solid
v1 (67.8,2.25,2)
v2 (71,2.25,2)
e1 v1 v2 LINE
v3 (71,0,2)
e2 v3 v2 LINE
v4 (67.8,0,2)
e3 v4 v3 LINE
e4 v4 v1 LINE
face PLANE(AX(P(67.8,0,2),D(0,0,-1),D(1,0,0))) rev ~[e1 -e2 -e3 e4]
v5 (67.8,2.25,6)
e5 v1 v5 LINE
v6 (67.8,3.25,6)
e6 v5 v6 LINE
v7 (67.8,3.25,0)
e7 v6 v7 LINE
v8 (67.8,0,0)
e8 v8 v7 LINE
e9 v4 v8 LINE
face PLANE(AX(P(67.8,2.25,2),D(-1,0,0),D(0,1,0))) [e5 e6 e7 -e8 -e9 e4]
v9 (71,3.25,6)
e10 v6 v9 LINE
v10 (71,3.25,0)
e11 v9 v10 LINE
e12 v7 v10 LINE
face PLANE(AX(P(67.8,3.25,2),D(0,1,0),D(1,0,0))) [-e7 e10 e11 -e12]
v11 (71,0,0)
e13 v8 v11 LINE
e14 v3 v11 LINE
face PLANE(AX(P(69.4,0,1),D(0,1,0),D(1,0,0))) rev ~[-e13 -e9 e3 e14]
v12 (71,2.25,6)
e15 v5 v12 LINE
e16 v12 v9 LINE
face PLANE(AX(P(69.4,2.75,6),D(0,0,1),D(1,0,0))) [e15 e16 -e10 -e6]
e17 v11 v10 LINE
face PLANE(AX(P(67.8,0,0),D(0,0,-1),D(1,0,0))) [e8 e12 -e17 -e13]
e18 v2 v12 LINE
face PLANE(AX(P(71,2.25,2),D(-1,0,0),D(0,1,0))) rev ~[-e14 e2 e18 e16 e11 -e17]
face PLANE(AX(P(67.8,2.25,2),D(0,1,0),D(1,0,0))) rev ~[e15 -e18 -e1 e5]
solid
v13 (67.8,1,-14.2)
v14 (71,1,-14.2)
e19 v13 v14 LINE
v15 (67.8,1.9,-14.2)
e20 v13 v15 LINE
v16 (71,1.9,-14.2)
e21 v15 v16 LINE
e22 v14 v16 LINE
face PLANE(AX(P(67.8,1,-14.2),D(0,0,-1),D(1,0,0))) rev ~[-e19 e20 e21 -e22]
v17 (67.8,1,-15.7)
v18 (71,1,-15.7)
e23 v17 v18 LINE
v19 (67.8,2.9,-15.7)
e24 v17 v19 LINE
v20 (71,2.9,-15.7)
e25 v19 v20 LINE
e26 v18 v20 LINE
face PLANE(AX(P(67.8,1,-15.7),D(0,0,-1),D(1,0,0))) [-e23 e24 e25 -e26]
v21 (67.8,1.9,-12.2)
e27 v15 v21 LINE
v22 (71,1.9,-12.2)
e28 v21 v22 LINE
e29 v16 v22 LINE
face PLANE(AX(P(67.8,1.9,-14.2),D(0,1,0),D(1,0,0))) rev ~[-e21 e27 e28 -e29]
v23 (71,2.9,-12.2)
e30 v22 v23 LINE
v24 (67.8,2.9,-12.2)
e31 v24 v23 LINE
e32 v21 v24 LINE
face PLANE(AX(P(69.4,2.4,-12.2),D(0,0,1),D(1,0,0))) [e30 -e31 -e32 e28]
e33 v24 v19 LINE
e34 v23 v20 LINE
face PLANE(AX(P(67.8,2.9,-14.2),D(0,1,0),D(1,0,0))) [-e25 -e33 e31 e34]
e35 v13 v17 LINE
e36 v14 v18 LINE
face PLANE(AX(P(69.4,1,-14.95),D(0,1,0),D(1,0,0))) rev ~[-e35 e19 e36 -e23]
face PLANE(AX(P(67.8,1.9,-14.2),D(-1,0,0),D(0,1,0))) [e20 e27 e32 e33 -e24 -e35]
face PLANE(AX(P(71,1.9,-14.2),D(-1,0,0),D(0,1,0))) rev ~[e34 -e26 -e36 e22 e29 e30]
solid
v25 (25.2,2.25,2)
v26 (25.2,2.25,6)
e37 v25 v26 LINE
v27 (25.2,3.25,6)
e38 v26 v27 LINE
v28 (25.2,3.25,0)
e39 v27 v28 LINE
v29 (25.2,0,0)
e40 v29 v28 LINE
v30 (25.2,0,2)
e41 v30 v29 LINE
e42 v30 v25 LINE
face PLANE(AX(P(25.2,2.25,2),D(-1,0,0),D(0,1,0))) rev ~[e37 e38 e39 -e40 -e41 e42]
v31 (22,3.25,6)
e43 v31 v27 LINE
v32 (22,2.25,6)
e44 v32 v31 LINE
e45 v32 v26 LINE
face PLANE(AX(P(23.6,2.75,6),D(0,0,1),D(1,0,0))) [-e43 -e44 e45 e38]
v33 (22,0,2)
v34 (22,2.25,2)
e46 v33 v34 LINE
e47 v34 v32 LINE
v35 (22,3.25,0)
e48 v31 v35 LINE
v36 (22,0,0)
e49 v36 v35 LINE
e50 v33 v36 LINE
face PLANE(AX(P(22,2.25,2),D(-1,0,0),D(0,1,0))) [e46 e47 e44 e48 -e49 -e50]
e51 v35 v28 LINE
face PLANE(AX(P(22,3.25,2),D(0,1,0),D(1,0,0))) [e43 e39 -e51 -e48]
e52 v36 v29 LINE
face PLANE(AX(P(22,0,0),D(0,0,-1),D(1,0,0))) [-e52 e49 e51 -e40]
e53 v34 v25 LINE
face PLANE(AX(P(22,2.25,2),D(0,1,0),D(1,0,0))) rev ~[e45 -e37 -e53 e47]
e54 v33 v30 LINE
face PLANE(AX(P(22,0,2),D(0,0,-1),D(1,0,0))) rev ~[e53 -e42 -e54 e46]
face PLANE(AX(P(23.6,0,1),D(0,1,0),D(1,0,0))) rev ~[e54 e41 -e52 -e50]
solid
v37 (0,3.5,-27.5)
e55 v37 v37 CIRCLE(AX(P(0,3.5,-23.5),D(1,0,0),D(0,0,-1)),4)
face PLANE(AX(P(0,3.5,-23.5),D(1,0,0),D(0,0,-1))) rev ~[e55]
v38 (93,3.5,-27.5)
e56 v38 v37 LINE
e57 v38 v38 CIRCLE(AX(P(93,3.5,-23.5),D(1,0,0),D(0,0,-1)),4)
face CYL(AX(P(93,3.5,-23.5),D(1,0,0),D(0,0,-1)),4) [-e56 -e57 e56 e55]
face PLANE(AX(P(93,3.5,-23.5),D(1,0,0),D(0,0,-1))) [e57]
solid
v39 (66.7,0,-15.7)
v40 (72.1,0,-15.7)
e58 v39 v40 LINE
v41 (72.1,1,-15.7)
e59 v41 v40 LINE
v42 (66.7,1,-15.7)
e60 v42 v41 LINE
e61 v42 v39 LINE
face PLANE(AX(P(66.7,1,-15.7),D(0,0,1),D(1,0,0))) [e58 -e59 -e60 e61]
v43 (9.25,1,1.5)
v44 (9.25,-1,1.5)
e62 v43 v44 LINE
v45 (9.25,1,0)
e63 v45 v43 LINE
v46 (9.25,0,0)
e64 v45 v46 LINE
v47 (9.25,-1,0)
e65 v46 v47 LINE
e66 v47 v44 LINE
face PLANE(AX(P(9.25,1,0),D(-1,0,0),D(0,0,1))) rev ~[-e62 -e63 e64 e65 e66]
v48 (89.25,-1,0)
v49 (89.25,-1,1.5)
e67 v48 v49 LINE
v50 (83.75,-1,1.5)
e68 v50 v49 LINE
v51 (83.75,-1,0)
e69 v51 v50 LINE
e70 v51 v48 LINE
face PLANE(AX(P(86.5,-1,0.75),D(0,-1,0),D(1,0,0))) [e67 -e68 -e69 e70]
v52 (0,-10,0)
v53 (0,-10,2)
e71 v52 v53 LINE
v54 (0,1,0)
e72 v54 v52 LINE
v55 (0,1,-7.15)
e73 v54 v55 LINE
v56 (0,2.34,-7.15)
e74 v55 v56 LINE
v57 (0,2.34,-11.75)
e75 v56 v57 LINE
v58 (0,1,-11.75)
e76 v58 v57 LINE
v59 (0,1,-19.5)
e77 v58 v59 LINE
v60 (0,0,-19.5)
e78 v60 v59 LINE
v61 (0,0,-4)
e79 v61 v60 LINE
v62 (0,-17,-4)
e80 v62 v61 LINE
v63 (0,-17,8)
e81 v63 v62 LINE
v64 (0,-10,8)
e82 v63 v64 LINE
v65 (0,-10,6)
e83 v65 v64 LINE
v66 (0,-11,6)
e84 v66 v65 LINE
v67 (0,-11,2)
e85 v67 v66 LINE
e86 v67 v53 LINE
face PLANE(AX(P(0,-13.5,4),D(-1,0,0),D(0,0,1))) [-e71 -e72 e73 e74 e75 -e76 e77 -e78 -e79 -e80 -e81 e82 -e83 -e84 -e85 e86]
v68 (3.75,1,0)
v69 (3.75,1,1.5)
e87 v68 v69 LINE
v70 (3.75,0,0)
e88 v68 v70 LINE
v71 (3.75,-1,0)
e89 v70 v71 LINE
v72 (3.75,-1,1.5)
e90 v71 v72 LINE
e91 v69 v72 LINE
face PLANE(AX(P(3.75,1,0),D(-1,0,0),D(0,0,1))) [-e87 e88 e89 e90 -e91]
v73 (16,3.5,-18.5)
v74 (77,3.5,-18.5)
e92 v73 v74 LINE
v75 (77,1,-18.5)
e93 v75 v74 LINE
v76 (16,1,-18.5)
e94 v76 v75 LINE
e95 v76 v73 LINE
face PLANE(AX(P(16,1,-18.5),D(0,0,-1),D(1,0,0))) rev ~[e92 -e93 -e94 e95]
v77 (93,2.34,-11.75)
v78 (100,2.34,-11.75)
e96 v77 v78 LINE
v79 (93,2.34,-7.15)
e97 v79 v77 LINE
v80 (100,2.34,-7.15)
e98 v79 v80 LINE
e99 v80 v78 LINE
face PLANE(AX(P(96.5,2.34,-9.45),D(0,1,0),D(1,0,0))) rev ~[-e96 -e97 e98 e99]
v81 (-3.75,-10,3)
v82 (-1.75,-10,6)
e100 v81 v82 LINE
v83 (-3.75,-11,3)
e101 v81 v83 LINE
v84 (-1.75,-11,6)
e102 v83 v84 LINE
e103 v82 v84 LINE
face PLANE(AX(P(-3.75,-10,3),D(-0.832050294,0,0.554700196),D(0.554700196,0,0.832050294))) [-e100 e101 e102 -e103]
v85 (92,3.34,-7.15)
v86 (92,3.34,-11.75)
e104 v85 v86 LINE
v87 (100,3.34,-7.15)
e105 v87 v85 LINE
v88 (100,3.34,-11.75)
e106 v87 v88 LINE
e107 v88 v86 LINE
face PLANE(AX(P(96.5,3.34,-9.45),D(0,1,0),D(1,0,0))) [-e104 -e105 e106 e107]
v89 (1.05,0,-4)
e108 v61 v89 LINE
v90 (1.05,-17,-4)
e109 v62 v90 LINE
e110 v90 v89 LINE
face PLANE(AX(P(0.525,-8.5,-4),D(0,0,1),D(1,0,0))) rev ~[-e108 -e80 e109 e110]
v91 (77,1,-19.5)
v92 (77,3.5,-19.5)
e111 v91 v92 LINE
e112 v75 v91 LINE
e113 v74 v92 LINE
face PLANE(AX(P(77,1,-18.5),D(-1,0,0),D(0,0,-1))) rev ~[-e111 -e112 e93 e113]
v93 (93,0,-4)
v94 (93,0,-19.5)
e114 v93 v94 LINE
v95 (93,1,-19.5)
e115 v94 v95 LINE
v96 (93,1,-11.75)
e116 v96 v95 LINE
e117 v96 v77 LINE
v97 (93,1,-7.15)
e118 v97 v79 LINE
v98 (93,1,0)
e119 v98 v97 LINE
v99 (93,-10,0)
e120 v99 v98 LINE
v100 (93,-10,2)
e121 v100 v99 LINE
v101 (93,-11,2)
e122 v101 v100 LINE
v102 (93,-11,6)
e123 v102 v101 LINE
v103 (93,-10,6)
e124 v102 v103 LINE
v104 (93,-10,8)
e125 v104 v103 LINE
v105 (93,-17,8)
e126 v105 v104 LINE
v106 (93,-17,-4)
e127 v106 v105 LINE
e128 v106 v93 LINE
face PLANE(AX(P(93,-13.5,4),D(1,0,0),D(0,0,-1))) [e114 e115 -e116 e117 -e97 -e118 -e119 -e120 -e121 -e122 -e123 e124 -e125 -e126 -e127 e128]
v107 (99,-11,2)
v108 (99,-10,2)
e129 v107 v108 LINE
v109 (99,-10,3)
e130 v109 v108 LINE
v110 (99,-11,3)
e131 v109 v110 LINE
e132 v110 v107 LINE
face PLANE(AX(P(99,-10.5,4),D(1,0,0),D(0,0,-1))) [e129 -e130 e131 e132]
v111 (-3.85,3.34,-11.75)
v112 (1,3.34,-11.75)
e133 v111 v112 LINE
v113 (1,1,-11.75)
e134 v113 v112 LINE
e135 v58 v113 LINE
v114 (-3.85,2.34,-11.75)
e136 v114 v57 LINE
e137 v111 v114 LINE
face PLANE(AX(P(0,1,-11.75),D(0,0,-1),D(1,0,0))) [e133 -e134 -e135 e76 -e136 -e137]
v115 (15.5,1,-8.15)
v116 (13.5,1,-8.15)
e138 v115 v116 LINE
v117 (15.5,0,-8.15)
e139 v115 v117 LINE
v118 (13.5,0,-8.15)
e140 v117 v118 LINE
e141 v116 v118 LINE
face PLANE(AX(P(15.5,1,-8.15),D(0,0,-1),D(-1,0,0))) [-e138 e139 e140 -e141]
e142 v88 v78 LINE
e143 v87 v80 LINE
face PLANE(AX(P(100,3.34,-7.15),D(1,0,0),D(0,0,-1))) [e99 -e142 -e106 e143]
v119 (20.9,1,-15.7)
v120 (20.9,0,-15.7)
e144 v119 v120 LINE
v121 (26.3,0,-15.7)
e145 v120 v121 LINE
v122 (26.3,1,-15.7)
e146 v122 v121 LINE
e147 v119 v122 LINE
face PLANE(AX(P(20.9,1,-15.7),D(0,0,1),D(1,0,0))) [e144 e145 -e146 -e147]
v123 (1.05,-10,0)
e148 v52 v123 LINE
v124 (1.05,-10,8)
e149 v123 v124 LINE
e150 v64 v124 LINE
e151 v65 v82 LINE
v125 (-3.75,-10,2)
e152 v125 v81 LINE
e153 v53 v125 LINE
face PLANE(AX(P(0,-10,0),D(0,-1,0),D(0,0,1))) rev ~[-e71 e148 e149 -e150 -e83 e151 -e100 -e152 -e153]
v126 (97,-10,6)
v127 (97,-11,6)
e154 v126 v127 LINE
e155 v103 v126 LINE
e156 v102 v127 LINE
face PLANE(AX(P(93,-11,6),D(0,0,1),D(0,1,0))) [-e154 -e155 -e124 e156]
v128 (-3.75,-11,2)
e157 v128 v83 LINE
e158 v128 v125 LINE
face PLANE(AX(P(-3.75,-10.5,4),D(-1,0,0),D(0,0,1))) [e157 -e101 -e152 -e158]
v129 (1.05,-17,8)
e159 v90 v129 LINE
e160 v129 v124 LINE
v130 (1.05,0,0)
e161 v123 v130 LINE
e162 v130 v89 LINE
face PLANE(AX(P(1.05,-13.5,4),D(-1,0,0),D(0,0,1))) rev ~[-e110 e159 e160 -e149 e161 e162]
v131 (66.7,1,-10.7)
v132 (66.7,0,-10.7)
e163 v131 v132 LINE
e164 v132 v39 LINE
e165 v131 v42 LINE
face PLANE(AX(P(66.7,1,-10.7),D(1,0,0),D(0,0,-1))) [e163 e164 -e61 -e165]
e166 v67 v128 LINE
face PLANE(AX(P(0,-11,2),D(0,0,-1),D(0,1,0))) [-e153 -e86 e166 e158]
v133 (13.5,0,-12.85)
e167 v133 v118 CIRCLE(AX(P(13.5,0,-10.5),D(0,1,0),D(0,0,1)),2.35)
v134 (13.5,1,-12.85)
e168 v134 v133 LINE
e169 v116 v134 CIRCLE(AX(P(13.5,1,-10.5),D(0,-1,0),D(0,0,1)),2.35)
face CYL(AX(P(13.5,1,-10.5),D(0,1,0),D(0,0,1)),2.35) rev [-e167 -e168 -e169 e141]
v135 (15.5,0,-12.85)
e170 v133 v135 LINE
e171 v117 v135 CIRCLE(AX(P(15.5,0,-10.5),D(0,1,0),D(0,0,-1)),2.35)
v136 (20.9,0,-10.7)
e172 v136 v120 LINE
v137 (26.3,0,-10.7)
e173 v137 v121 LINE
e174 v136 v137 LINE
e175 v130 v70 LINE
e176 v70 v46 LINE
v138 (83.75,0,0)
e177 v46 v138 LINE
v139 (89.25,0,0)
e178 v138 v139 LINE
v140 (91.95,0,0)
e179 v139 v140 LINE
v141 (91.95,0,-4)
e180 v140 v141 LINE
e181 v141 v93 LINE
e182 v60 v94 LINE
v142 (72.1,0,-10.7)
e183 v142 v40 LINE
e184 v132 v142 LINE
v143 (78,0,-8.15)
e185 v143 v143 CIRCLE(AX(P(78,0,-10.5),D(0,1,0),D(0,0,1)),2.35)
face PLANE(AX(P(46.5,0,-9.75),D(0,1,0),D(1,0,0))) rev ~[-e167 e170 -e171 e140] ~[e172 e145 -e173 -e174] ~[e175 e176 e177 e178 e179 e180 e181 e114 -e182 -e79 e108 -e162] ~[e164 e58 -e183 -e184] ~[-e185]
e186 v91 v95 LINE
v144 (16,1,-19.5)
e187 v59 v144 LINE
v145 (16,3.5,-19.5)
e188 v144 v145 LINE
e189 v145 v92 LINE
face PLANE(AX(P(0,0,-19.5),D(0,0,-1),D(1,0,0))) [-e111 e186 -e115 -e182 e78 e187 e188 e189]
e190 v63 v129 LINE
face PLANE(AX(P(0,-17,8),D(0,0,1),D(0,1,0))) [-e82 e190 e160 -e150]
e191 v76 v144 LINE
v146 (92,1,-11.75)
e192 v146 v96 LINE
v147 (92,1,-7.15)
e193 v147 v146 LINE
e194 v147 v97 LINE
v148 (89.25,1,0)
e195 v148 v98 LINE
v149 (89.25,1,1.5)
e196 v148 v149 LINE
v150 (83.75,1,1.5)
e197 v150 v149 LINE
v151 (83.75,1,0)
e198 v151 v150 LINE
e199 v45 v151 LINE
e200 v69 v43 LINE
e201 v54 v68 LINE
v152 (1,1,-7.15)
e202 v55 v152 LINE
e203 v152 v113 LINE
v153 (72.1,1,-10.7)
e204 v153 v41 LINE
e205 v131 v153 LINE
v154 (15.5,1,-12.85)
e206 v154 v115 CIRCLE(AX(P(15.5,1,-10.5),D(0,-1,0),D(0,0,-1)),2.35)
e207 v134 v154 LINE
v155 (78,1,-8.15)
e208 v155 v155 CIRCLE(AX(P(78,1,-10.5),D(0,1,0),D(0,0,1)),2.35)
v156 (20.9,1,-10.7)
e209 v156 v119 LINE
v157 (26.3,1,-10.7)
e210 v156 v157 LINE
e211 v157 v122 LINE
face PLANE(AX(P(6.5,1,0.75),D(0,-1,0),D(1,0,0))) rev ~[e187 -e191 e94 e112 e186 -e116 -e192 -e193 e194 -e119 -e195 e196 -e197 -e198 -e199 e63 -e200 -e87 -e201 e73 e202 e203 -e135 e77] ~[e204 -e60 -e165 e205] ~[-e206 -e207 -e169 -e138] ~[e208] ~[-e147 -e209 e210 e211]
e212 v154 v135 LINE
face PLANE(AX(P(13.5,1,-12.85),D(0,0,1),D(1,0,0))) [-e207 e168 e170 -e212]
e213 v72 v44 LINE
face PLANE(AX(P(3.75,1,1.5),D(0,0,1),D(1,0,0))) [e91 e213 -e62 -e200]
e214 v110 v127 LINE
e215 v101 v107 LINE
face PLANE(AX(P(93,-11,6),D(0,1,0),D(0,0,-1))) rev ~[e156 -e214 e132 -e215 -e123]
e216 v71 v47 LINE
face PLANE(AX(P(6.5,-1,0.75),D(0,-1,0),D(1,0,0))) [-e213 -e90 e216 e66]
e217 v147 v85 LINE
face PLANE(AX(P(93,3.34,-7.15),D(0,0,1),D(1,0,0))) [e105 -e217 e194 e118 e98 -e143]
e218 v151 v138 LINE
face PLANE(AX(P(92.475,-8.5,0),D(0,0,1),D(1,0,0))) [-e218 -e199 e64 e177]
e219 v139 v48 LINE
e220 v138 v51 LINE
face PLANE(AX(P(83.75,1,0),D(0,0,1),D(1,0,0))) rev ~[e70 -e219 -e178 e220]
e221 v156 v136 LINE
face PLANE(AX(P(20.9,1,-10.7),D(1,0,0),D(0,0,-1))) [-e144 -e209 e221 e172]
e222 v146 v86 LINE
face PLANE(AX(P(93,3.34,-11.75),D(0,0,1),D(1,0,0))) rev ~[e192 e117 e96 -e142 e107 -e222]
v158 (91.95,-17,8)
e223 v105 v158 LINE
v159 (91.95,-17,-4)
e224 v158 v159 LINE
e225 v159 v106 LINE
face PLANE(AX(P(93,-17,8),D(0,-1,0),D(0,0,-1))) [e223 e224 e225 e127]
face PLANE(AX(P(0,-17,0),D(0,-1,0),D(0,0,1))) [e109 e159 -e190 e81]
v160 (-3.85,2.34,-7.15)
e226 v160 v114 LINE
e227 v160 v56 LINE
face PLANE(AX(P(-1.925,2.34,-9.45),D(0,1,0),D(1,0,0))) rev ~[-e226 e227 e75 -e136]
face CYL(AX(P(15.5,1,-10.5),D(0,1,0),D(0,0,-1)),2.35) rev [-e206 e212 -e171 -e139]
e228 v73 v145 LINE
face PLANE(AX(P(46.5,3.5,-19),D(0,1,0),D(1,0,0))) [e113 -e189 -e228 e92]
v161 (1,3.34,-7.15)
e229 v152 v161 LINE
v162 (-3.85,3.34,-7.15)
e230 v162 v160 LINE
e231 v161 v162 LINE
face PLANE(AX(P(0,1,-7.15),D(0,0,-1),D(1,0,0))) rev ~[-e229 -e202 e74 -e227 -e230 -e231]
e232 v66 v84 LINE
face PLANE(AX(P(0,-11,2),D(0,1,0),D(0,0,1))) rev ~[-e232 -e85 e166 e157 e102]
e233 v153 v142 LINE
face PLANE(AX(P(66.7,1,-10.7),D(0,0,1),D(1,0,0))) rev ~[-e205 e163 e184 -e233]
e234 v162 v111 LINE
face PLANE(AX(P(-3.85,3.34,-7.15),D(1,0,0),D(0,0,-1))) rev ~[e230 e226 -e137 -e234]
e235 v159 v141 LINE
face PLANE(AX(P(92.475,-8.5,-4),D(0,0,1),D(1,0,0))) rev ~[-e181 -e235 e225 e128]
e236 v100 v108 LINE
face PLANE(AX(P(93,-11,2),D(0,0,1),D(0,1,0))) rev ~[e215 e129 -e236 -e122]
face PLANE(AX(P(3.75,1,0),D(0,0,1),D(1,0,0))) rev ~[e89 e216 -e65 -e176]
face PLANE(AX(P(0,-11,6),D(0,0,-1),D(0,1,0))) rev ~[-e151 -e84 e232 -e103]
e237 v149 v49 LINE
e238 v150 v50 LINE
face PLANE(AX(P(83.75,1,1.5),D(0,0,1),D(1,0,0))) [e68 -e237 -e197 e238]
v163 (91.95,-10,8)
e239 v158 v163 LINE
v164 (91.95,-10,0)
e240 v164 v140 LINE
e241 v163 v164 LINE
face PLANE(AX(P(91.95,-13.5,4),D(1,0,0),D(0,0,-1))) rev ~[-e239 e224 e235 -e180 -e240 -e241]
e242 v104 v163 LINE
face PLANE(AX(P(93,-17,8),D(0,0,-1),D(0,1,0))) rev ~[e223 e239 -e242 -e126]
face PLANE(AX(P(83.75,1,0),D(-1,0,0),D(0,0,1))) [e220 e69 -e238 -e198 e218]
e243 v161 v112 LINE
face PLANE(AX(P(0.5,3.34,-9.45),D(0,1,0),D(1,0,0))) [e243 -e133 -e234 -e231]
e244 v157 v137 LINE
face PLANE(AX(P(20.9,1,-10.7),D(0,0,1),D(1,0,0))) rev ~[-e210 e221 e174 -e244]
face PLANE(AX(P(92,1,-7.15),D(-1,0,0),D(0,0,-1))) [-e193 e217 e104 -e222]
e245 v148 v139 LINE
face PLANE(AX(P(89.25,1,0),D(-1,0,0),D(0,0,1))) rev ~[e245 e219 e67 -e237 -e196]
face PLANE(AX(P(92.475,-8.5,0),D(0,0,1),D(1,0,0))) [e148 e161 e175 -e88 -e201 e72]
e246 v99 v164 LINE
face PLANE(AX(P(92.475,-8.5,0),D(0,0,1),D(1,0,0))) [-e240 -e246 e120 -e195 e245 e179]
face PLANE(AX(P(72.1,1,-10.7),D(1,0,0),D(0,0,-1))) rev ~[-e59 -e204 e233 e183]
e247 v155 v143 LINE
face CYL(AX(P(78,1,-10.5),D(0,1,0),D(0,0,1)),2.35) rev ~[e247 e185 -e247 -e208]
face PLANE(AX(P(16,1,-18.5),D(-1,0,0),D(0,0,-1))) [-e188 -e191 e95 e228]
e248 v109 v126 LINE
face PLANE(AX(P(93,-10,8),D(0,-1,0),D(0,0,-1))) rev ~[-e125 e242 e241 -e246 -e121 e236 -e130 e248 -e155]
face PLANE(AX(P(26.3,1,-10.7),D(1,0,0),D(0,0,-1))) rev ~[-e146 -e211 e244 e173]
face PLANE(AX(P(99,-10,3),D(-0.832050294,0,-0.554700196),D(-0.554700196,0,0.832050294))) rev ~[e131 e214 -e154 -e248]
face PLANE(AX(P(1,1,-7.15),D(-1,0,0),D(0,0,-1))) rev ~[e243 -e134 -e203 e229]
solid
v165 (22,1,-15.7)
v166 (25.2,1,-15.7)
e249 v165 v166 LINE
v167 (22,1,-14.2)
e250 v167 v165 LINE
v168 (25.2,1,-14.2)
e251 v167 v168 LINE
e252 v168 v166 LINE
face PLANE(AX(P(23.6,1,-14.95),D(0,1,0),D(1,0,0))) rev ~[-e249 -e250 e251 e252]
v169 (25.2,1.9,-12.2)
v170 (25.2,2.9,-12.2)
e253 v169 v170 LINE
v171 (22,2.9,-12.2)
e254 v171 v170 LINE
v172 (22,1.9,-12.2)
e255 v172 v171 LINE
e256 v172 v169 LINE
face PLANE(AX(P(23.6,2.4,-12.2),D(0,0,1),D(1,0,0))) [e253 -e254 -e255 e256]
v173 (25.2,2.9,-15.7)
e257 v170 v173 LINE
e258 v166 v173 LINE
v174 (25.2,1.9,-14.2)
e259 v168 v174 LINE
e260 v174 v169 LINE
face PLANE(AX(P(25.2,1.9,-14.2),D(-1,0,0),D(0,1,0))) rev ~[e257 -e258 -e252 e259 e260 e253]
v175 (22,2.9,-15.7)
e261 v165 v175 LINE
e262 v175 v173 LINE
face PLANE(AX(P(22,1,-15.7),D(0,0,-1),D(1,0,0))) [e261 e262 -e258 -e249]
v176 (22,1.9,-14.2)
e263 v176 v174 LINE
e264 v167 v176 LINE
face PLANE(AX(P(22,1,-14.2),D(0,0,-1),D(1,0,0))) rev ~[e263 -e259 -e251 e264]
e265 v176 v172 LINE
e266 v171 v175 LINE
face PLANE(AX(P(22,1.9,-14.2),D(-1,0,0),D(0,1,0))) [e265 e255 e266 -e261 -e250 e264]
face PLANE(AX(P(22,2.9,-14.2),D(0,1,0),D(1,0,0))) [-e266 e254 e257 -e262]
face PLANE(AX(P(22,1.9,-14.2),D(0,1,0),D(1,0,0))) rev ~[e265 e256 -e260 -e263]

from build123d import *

# Parameters (mm, degrees)
SKETCH_1_W             = 93
SKETCH_1_H             = 19.5
EXTRUDE_1_DEPTH        = 1
SKETCH_2_W             = 61
SKETCH_2_H             = 1
EXTRUDE_2_DEPTH        = 2.5
EXTRUDE_3_DEPTH        = 2.25
EXTRUDE_3_DEPTH_BACK   = 1
SKETCH_3_W             = 3.2
SKETCH_3_H             = 2
EXTRUDE_3_2_DEPTH      = 2.25
EXTRUDE_3_2_DEPTH_BACK = 1
SKETCH_4_W             = 3.2
SKETCH_4_H             = 1
EXTRUDE_4_DEPTH        = 4
SKETCH_5_W             = 5.4
SKETCH_5_H             = 5
CUT_EXTRUDE_1_DEPTH    = 5
SKETCH_6_W             = 3.2
SKETCH_6_H             = 1.5
EXTRUDE_5_DEPTH        = 1.9
EXTRUDE_5_2_DEPTH      = 1.9
SKETCH_7_W             = 3.2
SKETCH_7_H             = 1
EXTRUDE_6_DEPTH        = 2
SKETCH_8_R             = 2.35
CUT_EXTRUDE_2_DEPTH    = 96.055247093
SKETCH_9_R             = 4
EXTRUDE_7_DEPTH        = 93
SKETCH_10_W            = 1
SKETCH_10_H            = 4.6
EXTRUDE_8_DEPTH        = 2.34
SKETCH_11_W            = 7
SKETCH_11_H            = 4.6
SKETCH_11_W_2          = 3.85
EXTRUDE_9_DEPTH        = 1
SKETCH_12_W            = 1.05
SKETCH_12_H            = 17
EXTRUDE_10_DEPTH       = 4
EXTRUDE_11_DEPTH       = 1
EXTRUDE_11_DEPTH_BACK  = 1
SKETCH_13_W            = 5.5
SKETCH_13_H            = 1.5
SKETCH_14_W            = 8
SKETCH_14_H            = 7
EXTRUDE_12_DEPTH       = 1.05
SKETCH_15_W            = 4
SKETCH_15_H            = 1
EXTRUDE_13_DEPTH       = 6
CUT_EXTRUDE_3_DEPTH    = 6
SKETCH_17_W            = 8
SKETCH_17_H            = 7
EXTRUDE_14_DEPTH       = 1.05
SKETCH_18_W            = 4
SKETCH_18_H            = 1
EXTRUDE_15_DEPTH       = 3.75
CUT_EXTRUDE_4_DEPTH    = 3.75


with BuildPart() as part:
    # 草图1 → 凸台-拉伸1 (new body)
    with BuildSketch(Plane(origin=(0, 0, 0), x_dir=(1, 0, 0), z_dir=(0, 1, 0))):
        with Locations((46.5, 9.75)):
            Rectangle(SKETCH_1_W, SKETCH_1_H)
    extrude(amount=EXTRUDE_1_DEPTH)

    # 草图2 → 凸台-拉伸2 (add)
    with BuildSketch(Plane(origin=(0, 1, 0), x_dir=(1, 0, 0), z_dir=(0, 1, 0))):
        with Locations((46.5, 19)):
            Rectangle(SKETCH_2_W, SKETCH_2_H)
    extrude(amount=EXTRUDE_2_DEPTH)

    # 草图5 → 切除-拉伸1 (cut)
    with BuildSketch(Plane(origin=(0, 1, 0), x_dir=(1, 0, 0), z_dir=(0, 1, 0))):
        with Locations((23.6, 13.2)):
            Rectangle(SKETCH_5_W, SKETCH_5_H)
        with Locations((69.4, 13.2)):
            Rectangle(SKETCH_5_W, SKETCH_5_H)
    extrude(amount=-CUT_EXTRUDE_1_DEPTH, mode=Mode.SUBTRACT)

    # 草图8 → 切除-拉伸2 (cut, through all)
    with BuildSketch(Plane(origin=(0, 1, 0), x_dir=(1, 0, 0), z_dir=(0, 1, 0))):
        with Locations(Location((78, 10.5, 0), (0, 0, 270))):
            Circle(SKETCH_8_R)
        with BuildLine():
            Line((13.5, 12.85), (15.5, 12.85))
            ThreePointArc((15.5, 12.85), (17.85, 10.5), (15.5, 8.15))
            Line((15.5, 8.15), (13.5, 8.15))
            ThreePointArc((13.5, 8.15), (11.15, 10.5), (13.5, 12.85))
        make_face()
    extrude(amount=-CUT_EXTRUDE_2_DEPTH, mode=Mode.SUBTRACT)

    # 草图10 → 凸台-拉伸8 (add)
    with BuildSketch(Plane(origin=(0, 1, 0), x_dir=(1, 0, 0), z_dir=(0, 1, 0))):
        with Locations((92.5, 9.45)):
            Rectangle(SKETCH_10_W, SKETCH_10_H)
        with Locations((0.5, 9.45)):
            Rectangle(SKETCH_10_W, SKETCH_10_H)
    extrude(amount=EXTRUDE_8_DEPTH)

    # 草图11 → 凸台-拉伸9 (add)
    with BuildSketch(Plane(origin=(0, 3.34, 0), x_dir=(1, 0, 0), z_dir=(0, 1, 0))):
        with Locations((96.5, 9.45)):
            Rectangle(SKETCH_11_W, SKETCH_11_H)
        with Locations((-1.925, 9.45)):
            Rectangle(SKETCH_11_W_2, SKETCH_11_H)
    extrude(amount=-EXTRUDE_9_DEPTH)

    # 草图12 → 凸台-拉伸10 (add)
    with BuildSketch(Plane.XY):
        with Locations((92.475, -8.5)):
            Rectangle(SKETCH_12_W, SKETCH_12_H)
        with Locations((0.525, -8.5)):
            Rectangle(SKETCH_12_W, SKETCH_12_H)
    extrude(amount=-EXTRUDE_10_DEPTH)

    # 草图13 → 凸台-拉伸11 (add, two sides: drawn at the far end of the back side and taken through both)
    with BuildSketch(Plane.XZ.offset(-EXTRUDE_11_DEPTH_BACK)):
        with Locations((6.5, 0.75)):
            Rectangle(SKETCH_13_W, SKETCH_13_H)
        with Locations((86.5, 0.75)):
            Rectangle(SKETCH_13_W, SKETCH_13_H)
    extrude(amount=EXTRUDE_11_DEPTH + EXTRUDE_11_DEPTH_BACK)

    # 草图14 → 凸台-拉伸12 (add)
    with BuildSketch(Plane(origin=(93, 0, 0), x_dir=(0, 0, -1), z_dir=(1, 0, 0))):
        with Locations((-4, -13.5)):
            Rectangle(SKETCH_14_W, SKETCH_14_H)
    extrude(amount=-EXTRUDE_12_DEPTH)

    # 草图15 → 凸台-拉伸13 (add)
    with BuildSketch(Plane(origin=(93, 0, 0), x_dir=(0, 0, -1), z_dir=(1, 0, 0))):
        with Locations((-4, -10.5)):
            Rectangle(SKETCH_15_W, SKETCH_15_H)
    extrude(amount=EXTRUDE_13_DEPTH)

    # 草图16 → 切除-拉伸3 (cut)
    with BuildSketch(Plane(origin=(0, -10, 0), x_dir=(1, 0, 0), z_dir=(0, 1, 0))):
        Polygon((99, -3), (97, -6), (99, -6), align=None)
    extrude(amount=-CUT_EXTRUDE_3_DEPTH, mode=Mode.SUBTRACT)

    # 草图17 → 凸台-拉伸14 (add)
    with BuildSketch(Plane.ZY):
        with Locations((4, -13.5)):
            Rectangle(SKETCH_17_W, SKETCH_17_H)
    extrude(amount=-EXTRUDE_14_DEPTH)

    # 草图18 → 凸台-拉伸15 (add)
    with BuildSketch(Plane.ZY):
        with Locations((4, -10.5)):
            Rectangle(SKETCH_18_W, SKETCH_18_H)
    extrude(amount=EXTRUDE_15_DEPTH)

    # 草图19 → 切除-拉伸4 (cut)
    with BuildSketch(Plane(origin=(0, -10, 0), x_dir=(1, 0, 0), z_dir=(0, 1, 0))):
        Polygon((-3.75, -3), (-1.75, -6), (-3.75, -6), align=None)
    extrude(amount=-CUT_EXTRUDE_4_DEPTH, mode=Mode.SUBTRACT)


with BuildPart() as body_2:
    # 草图3 → 凸台-拉伸3 (new, two sides: drawn at the far end of the back side and taken through both)
    with BuildSketch(Plane(origin=(0, 1, 0), x_dir=(1, 0, 0), z_dir=(0, 1, 0)).offset(-EXTRUDE_3_DEPTH_BACK)):
        with Locations((69.4, -1)):
            Rectangle(SKETCH_3_W, SKETCH_3_H)
    extrude(amount=EXTRUDE_3_DEPTH + EXTRUDE_3_DEPTH_BACK)



with BuildPart() as body_3:
    # 草图3 → Extrude 3 2 (new, two sides: drawn at the far end of the back side and taken through both)
    with BuildSketch(Plane(origin=(0, 1, 0), x_dir=(1, 0, 0), z_dir=(0, 1, 0)).offset(-EXTRUDE_3_2_DEPTH_BACK)):
        with Locations((23.6, -1)):
            Rectangle(SKETCH_3_W, SKETCH_3_H)
    extrude(amount=EXTRUDE_3_2_DEPTH + EXTRUDE_3_2_DEPTH_BACK)


with BuildPart() as body_2_1:
    add(body_2.part)

    add(body_3.part)  # 凸台-拉伸4 merges body 3
    # 草图4 → 凸台-拉伸4 (add)
    with BuildSketch(Plane.XY.offset(2)):
        with Locations((23.6, 2.75)):
            Rectangle(SKETCH_4_W, SKETCH_4_H)
        with Locations((69.4, 2.75)):
            Rectangle(SKETCH_4_W, SKETCH_4_H)
    extrude(amount=EXTRUDE_4_DEPTH)


with BuildPart() as body_3_2:
    # 草图6 → 凸台-拉伸5 (new body)
    with BuildSketch(Plane(origin=(0, 1, 0), x_dir=(1, 0, 0), z_dir=(0, 1, 0))):
        with Locations((23.6, 14.95)):
            Rectangle(SKETCH_6_W, SKETCH_6_H)
    extrude(amount=EXTRUDE_5_DEPTH)



with BuildPart() as body_4:
    # 草图6 → Extrude 5 2 (new body)
    with BuildSketch(Plane(origin=(0, 1, 0), x_dir=(1, 0, 0), z_dir=(0, 1, 0))):
        with Locations((69.4, 14.95)):
            Rectangle(SKETCH_6_W, SKETCH_6_H)
    extrude(amount=EXTRUDE_5_2_DEPTH)


with BuildPart() as body_3_2_1:
    add(body_3_2.part)

    add(body_4.part)  # 凸台-拉伸6 merges body 4
    # 草图7 → 凸台-拉伸6 (add)
    with BuildSketch(Plane.XY.offset(-14.2)):
        with Locations((23.6, 2.4)):
            Rectangle(SKETCH_7_W, SKETCH_7_H)
        with Locations((69.4, 2.4)):
            Rectangle(SKETCH_7_W, SKETCH_7_H)
    extrude(amount=EXTRUDE_6_DEPTH)


with BuildPart() as body_4_2:
    # 草图9 → 凸台-拉伸7 (new body)
    with BuildSketch(Plane(origin=(93, 0, 0), x_dir=(0, 0, -1), z_dir=(1, 0, 0))):
        with Locations((23.5, 3.5)):
            Circle(SKETCH_9_R)
    extrude(amount=-EXTRUDE_7_DEPTH)


solid = Compound([part.part, body_2_1.part, body_3_2_1.part, body_4_2.part])
